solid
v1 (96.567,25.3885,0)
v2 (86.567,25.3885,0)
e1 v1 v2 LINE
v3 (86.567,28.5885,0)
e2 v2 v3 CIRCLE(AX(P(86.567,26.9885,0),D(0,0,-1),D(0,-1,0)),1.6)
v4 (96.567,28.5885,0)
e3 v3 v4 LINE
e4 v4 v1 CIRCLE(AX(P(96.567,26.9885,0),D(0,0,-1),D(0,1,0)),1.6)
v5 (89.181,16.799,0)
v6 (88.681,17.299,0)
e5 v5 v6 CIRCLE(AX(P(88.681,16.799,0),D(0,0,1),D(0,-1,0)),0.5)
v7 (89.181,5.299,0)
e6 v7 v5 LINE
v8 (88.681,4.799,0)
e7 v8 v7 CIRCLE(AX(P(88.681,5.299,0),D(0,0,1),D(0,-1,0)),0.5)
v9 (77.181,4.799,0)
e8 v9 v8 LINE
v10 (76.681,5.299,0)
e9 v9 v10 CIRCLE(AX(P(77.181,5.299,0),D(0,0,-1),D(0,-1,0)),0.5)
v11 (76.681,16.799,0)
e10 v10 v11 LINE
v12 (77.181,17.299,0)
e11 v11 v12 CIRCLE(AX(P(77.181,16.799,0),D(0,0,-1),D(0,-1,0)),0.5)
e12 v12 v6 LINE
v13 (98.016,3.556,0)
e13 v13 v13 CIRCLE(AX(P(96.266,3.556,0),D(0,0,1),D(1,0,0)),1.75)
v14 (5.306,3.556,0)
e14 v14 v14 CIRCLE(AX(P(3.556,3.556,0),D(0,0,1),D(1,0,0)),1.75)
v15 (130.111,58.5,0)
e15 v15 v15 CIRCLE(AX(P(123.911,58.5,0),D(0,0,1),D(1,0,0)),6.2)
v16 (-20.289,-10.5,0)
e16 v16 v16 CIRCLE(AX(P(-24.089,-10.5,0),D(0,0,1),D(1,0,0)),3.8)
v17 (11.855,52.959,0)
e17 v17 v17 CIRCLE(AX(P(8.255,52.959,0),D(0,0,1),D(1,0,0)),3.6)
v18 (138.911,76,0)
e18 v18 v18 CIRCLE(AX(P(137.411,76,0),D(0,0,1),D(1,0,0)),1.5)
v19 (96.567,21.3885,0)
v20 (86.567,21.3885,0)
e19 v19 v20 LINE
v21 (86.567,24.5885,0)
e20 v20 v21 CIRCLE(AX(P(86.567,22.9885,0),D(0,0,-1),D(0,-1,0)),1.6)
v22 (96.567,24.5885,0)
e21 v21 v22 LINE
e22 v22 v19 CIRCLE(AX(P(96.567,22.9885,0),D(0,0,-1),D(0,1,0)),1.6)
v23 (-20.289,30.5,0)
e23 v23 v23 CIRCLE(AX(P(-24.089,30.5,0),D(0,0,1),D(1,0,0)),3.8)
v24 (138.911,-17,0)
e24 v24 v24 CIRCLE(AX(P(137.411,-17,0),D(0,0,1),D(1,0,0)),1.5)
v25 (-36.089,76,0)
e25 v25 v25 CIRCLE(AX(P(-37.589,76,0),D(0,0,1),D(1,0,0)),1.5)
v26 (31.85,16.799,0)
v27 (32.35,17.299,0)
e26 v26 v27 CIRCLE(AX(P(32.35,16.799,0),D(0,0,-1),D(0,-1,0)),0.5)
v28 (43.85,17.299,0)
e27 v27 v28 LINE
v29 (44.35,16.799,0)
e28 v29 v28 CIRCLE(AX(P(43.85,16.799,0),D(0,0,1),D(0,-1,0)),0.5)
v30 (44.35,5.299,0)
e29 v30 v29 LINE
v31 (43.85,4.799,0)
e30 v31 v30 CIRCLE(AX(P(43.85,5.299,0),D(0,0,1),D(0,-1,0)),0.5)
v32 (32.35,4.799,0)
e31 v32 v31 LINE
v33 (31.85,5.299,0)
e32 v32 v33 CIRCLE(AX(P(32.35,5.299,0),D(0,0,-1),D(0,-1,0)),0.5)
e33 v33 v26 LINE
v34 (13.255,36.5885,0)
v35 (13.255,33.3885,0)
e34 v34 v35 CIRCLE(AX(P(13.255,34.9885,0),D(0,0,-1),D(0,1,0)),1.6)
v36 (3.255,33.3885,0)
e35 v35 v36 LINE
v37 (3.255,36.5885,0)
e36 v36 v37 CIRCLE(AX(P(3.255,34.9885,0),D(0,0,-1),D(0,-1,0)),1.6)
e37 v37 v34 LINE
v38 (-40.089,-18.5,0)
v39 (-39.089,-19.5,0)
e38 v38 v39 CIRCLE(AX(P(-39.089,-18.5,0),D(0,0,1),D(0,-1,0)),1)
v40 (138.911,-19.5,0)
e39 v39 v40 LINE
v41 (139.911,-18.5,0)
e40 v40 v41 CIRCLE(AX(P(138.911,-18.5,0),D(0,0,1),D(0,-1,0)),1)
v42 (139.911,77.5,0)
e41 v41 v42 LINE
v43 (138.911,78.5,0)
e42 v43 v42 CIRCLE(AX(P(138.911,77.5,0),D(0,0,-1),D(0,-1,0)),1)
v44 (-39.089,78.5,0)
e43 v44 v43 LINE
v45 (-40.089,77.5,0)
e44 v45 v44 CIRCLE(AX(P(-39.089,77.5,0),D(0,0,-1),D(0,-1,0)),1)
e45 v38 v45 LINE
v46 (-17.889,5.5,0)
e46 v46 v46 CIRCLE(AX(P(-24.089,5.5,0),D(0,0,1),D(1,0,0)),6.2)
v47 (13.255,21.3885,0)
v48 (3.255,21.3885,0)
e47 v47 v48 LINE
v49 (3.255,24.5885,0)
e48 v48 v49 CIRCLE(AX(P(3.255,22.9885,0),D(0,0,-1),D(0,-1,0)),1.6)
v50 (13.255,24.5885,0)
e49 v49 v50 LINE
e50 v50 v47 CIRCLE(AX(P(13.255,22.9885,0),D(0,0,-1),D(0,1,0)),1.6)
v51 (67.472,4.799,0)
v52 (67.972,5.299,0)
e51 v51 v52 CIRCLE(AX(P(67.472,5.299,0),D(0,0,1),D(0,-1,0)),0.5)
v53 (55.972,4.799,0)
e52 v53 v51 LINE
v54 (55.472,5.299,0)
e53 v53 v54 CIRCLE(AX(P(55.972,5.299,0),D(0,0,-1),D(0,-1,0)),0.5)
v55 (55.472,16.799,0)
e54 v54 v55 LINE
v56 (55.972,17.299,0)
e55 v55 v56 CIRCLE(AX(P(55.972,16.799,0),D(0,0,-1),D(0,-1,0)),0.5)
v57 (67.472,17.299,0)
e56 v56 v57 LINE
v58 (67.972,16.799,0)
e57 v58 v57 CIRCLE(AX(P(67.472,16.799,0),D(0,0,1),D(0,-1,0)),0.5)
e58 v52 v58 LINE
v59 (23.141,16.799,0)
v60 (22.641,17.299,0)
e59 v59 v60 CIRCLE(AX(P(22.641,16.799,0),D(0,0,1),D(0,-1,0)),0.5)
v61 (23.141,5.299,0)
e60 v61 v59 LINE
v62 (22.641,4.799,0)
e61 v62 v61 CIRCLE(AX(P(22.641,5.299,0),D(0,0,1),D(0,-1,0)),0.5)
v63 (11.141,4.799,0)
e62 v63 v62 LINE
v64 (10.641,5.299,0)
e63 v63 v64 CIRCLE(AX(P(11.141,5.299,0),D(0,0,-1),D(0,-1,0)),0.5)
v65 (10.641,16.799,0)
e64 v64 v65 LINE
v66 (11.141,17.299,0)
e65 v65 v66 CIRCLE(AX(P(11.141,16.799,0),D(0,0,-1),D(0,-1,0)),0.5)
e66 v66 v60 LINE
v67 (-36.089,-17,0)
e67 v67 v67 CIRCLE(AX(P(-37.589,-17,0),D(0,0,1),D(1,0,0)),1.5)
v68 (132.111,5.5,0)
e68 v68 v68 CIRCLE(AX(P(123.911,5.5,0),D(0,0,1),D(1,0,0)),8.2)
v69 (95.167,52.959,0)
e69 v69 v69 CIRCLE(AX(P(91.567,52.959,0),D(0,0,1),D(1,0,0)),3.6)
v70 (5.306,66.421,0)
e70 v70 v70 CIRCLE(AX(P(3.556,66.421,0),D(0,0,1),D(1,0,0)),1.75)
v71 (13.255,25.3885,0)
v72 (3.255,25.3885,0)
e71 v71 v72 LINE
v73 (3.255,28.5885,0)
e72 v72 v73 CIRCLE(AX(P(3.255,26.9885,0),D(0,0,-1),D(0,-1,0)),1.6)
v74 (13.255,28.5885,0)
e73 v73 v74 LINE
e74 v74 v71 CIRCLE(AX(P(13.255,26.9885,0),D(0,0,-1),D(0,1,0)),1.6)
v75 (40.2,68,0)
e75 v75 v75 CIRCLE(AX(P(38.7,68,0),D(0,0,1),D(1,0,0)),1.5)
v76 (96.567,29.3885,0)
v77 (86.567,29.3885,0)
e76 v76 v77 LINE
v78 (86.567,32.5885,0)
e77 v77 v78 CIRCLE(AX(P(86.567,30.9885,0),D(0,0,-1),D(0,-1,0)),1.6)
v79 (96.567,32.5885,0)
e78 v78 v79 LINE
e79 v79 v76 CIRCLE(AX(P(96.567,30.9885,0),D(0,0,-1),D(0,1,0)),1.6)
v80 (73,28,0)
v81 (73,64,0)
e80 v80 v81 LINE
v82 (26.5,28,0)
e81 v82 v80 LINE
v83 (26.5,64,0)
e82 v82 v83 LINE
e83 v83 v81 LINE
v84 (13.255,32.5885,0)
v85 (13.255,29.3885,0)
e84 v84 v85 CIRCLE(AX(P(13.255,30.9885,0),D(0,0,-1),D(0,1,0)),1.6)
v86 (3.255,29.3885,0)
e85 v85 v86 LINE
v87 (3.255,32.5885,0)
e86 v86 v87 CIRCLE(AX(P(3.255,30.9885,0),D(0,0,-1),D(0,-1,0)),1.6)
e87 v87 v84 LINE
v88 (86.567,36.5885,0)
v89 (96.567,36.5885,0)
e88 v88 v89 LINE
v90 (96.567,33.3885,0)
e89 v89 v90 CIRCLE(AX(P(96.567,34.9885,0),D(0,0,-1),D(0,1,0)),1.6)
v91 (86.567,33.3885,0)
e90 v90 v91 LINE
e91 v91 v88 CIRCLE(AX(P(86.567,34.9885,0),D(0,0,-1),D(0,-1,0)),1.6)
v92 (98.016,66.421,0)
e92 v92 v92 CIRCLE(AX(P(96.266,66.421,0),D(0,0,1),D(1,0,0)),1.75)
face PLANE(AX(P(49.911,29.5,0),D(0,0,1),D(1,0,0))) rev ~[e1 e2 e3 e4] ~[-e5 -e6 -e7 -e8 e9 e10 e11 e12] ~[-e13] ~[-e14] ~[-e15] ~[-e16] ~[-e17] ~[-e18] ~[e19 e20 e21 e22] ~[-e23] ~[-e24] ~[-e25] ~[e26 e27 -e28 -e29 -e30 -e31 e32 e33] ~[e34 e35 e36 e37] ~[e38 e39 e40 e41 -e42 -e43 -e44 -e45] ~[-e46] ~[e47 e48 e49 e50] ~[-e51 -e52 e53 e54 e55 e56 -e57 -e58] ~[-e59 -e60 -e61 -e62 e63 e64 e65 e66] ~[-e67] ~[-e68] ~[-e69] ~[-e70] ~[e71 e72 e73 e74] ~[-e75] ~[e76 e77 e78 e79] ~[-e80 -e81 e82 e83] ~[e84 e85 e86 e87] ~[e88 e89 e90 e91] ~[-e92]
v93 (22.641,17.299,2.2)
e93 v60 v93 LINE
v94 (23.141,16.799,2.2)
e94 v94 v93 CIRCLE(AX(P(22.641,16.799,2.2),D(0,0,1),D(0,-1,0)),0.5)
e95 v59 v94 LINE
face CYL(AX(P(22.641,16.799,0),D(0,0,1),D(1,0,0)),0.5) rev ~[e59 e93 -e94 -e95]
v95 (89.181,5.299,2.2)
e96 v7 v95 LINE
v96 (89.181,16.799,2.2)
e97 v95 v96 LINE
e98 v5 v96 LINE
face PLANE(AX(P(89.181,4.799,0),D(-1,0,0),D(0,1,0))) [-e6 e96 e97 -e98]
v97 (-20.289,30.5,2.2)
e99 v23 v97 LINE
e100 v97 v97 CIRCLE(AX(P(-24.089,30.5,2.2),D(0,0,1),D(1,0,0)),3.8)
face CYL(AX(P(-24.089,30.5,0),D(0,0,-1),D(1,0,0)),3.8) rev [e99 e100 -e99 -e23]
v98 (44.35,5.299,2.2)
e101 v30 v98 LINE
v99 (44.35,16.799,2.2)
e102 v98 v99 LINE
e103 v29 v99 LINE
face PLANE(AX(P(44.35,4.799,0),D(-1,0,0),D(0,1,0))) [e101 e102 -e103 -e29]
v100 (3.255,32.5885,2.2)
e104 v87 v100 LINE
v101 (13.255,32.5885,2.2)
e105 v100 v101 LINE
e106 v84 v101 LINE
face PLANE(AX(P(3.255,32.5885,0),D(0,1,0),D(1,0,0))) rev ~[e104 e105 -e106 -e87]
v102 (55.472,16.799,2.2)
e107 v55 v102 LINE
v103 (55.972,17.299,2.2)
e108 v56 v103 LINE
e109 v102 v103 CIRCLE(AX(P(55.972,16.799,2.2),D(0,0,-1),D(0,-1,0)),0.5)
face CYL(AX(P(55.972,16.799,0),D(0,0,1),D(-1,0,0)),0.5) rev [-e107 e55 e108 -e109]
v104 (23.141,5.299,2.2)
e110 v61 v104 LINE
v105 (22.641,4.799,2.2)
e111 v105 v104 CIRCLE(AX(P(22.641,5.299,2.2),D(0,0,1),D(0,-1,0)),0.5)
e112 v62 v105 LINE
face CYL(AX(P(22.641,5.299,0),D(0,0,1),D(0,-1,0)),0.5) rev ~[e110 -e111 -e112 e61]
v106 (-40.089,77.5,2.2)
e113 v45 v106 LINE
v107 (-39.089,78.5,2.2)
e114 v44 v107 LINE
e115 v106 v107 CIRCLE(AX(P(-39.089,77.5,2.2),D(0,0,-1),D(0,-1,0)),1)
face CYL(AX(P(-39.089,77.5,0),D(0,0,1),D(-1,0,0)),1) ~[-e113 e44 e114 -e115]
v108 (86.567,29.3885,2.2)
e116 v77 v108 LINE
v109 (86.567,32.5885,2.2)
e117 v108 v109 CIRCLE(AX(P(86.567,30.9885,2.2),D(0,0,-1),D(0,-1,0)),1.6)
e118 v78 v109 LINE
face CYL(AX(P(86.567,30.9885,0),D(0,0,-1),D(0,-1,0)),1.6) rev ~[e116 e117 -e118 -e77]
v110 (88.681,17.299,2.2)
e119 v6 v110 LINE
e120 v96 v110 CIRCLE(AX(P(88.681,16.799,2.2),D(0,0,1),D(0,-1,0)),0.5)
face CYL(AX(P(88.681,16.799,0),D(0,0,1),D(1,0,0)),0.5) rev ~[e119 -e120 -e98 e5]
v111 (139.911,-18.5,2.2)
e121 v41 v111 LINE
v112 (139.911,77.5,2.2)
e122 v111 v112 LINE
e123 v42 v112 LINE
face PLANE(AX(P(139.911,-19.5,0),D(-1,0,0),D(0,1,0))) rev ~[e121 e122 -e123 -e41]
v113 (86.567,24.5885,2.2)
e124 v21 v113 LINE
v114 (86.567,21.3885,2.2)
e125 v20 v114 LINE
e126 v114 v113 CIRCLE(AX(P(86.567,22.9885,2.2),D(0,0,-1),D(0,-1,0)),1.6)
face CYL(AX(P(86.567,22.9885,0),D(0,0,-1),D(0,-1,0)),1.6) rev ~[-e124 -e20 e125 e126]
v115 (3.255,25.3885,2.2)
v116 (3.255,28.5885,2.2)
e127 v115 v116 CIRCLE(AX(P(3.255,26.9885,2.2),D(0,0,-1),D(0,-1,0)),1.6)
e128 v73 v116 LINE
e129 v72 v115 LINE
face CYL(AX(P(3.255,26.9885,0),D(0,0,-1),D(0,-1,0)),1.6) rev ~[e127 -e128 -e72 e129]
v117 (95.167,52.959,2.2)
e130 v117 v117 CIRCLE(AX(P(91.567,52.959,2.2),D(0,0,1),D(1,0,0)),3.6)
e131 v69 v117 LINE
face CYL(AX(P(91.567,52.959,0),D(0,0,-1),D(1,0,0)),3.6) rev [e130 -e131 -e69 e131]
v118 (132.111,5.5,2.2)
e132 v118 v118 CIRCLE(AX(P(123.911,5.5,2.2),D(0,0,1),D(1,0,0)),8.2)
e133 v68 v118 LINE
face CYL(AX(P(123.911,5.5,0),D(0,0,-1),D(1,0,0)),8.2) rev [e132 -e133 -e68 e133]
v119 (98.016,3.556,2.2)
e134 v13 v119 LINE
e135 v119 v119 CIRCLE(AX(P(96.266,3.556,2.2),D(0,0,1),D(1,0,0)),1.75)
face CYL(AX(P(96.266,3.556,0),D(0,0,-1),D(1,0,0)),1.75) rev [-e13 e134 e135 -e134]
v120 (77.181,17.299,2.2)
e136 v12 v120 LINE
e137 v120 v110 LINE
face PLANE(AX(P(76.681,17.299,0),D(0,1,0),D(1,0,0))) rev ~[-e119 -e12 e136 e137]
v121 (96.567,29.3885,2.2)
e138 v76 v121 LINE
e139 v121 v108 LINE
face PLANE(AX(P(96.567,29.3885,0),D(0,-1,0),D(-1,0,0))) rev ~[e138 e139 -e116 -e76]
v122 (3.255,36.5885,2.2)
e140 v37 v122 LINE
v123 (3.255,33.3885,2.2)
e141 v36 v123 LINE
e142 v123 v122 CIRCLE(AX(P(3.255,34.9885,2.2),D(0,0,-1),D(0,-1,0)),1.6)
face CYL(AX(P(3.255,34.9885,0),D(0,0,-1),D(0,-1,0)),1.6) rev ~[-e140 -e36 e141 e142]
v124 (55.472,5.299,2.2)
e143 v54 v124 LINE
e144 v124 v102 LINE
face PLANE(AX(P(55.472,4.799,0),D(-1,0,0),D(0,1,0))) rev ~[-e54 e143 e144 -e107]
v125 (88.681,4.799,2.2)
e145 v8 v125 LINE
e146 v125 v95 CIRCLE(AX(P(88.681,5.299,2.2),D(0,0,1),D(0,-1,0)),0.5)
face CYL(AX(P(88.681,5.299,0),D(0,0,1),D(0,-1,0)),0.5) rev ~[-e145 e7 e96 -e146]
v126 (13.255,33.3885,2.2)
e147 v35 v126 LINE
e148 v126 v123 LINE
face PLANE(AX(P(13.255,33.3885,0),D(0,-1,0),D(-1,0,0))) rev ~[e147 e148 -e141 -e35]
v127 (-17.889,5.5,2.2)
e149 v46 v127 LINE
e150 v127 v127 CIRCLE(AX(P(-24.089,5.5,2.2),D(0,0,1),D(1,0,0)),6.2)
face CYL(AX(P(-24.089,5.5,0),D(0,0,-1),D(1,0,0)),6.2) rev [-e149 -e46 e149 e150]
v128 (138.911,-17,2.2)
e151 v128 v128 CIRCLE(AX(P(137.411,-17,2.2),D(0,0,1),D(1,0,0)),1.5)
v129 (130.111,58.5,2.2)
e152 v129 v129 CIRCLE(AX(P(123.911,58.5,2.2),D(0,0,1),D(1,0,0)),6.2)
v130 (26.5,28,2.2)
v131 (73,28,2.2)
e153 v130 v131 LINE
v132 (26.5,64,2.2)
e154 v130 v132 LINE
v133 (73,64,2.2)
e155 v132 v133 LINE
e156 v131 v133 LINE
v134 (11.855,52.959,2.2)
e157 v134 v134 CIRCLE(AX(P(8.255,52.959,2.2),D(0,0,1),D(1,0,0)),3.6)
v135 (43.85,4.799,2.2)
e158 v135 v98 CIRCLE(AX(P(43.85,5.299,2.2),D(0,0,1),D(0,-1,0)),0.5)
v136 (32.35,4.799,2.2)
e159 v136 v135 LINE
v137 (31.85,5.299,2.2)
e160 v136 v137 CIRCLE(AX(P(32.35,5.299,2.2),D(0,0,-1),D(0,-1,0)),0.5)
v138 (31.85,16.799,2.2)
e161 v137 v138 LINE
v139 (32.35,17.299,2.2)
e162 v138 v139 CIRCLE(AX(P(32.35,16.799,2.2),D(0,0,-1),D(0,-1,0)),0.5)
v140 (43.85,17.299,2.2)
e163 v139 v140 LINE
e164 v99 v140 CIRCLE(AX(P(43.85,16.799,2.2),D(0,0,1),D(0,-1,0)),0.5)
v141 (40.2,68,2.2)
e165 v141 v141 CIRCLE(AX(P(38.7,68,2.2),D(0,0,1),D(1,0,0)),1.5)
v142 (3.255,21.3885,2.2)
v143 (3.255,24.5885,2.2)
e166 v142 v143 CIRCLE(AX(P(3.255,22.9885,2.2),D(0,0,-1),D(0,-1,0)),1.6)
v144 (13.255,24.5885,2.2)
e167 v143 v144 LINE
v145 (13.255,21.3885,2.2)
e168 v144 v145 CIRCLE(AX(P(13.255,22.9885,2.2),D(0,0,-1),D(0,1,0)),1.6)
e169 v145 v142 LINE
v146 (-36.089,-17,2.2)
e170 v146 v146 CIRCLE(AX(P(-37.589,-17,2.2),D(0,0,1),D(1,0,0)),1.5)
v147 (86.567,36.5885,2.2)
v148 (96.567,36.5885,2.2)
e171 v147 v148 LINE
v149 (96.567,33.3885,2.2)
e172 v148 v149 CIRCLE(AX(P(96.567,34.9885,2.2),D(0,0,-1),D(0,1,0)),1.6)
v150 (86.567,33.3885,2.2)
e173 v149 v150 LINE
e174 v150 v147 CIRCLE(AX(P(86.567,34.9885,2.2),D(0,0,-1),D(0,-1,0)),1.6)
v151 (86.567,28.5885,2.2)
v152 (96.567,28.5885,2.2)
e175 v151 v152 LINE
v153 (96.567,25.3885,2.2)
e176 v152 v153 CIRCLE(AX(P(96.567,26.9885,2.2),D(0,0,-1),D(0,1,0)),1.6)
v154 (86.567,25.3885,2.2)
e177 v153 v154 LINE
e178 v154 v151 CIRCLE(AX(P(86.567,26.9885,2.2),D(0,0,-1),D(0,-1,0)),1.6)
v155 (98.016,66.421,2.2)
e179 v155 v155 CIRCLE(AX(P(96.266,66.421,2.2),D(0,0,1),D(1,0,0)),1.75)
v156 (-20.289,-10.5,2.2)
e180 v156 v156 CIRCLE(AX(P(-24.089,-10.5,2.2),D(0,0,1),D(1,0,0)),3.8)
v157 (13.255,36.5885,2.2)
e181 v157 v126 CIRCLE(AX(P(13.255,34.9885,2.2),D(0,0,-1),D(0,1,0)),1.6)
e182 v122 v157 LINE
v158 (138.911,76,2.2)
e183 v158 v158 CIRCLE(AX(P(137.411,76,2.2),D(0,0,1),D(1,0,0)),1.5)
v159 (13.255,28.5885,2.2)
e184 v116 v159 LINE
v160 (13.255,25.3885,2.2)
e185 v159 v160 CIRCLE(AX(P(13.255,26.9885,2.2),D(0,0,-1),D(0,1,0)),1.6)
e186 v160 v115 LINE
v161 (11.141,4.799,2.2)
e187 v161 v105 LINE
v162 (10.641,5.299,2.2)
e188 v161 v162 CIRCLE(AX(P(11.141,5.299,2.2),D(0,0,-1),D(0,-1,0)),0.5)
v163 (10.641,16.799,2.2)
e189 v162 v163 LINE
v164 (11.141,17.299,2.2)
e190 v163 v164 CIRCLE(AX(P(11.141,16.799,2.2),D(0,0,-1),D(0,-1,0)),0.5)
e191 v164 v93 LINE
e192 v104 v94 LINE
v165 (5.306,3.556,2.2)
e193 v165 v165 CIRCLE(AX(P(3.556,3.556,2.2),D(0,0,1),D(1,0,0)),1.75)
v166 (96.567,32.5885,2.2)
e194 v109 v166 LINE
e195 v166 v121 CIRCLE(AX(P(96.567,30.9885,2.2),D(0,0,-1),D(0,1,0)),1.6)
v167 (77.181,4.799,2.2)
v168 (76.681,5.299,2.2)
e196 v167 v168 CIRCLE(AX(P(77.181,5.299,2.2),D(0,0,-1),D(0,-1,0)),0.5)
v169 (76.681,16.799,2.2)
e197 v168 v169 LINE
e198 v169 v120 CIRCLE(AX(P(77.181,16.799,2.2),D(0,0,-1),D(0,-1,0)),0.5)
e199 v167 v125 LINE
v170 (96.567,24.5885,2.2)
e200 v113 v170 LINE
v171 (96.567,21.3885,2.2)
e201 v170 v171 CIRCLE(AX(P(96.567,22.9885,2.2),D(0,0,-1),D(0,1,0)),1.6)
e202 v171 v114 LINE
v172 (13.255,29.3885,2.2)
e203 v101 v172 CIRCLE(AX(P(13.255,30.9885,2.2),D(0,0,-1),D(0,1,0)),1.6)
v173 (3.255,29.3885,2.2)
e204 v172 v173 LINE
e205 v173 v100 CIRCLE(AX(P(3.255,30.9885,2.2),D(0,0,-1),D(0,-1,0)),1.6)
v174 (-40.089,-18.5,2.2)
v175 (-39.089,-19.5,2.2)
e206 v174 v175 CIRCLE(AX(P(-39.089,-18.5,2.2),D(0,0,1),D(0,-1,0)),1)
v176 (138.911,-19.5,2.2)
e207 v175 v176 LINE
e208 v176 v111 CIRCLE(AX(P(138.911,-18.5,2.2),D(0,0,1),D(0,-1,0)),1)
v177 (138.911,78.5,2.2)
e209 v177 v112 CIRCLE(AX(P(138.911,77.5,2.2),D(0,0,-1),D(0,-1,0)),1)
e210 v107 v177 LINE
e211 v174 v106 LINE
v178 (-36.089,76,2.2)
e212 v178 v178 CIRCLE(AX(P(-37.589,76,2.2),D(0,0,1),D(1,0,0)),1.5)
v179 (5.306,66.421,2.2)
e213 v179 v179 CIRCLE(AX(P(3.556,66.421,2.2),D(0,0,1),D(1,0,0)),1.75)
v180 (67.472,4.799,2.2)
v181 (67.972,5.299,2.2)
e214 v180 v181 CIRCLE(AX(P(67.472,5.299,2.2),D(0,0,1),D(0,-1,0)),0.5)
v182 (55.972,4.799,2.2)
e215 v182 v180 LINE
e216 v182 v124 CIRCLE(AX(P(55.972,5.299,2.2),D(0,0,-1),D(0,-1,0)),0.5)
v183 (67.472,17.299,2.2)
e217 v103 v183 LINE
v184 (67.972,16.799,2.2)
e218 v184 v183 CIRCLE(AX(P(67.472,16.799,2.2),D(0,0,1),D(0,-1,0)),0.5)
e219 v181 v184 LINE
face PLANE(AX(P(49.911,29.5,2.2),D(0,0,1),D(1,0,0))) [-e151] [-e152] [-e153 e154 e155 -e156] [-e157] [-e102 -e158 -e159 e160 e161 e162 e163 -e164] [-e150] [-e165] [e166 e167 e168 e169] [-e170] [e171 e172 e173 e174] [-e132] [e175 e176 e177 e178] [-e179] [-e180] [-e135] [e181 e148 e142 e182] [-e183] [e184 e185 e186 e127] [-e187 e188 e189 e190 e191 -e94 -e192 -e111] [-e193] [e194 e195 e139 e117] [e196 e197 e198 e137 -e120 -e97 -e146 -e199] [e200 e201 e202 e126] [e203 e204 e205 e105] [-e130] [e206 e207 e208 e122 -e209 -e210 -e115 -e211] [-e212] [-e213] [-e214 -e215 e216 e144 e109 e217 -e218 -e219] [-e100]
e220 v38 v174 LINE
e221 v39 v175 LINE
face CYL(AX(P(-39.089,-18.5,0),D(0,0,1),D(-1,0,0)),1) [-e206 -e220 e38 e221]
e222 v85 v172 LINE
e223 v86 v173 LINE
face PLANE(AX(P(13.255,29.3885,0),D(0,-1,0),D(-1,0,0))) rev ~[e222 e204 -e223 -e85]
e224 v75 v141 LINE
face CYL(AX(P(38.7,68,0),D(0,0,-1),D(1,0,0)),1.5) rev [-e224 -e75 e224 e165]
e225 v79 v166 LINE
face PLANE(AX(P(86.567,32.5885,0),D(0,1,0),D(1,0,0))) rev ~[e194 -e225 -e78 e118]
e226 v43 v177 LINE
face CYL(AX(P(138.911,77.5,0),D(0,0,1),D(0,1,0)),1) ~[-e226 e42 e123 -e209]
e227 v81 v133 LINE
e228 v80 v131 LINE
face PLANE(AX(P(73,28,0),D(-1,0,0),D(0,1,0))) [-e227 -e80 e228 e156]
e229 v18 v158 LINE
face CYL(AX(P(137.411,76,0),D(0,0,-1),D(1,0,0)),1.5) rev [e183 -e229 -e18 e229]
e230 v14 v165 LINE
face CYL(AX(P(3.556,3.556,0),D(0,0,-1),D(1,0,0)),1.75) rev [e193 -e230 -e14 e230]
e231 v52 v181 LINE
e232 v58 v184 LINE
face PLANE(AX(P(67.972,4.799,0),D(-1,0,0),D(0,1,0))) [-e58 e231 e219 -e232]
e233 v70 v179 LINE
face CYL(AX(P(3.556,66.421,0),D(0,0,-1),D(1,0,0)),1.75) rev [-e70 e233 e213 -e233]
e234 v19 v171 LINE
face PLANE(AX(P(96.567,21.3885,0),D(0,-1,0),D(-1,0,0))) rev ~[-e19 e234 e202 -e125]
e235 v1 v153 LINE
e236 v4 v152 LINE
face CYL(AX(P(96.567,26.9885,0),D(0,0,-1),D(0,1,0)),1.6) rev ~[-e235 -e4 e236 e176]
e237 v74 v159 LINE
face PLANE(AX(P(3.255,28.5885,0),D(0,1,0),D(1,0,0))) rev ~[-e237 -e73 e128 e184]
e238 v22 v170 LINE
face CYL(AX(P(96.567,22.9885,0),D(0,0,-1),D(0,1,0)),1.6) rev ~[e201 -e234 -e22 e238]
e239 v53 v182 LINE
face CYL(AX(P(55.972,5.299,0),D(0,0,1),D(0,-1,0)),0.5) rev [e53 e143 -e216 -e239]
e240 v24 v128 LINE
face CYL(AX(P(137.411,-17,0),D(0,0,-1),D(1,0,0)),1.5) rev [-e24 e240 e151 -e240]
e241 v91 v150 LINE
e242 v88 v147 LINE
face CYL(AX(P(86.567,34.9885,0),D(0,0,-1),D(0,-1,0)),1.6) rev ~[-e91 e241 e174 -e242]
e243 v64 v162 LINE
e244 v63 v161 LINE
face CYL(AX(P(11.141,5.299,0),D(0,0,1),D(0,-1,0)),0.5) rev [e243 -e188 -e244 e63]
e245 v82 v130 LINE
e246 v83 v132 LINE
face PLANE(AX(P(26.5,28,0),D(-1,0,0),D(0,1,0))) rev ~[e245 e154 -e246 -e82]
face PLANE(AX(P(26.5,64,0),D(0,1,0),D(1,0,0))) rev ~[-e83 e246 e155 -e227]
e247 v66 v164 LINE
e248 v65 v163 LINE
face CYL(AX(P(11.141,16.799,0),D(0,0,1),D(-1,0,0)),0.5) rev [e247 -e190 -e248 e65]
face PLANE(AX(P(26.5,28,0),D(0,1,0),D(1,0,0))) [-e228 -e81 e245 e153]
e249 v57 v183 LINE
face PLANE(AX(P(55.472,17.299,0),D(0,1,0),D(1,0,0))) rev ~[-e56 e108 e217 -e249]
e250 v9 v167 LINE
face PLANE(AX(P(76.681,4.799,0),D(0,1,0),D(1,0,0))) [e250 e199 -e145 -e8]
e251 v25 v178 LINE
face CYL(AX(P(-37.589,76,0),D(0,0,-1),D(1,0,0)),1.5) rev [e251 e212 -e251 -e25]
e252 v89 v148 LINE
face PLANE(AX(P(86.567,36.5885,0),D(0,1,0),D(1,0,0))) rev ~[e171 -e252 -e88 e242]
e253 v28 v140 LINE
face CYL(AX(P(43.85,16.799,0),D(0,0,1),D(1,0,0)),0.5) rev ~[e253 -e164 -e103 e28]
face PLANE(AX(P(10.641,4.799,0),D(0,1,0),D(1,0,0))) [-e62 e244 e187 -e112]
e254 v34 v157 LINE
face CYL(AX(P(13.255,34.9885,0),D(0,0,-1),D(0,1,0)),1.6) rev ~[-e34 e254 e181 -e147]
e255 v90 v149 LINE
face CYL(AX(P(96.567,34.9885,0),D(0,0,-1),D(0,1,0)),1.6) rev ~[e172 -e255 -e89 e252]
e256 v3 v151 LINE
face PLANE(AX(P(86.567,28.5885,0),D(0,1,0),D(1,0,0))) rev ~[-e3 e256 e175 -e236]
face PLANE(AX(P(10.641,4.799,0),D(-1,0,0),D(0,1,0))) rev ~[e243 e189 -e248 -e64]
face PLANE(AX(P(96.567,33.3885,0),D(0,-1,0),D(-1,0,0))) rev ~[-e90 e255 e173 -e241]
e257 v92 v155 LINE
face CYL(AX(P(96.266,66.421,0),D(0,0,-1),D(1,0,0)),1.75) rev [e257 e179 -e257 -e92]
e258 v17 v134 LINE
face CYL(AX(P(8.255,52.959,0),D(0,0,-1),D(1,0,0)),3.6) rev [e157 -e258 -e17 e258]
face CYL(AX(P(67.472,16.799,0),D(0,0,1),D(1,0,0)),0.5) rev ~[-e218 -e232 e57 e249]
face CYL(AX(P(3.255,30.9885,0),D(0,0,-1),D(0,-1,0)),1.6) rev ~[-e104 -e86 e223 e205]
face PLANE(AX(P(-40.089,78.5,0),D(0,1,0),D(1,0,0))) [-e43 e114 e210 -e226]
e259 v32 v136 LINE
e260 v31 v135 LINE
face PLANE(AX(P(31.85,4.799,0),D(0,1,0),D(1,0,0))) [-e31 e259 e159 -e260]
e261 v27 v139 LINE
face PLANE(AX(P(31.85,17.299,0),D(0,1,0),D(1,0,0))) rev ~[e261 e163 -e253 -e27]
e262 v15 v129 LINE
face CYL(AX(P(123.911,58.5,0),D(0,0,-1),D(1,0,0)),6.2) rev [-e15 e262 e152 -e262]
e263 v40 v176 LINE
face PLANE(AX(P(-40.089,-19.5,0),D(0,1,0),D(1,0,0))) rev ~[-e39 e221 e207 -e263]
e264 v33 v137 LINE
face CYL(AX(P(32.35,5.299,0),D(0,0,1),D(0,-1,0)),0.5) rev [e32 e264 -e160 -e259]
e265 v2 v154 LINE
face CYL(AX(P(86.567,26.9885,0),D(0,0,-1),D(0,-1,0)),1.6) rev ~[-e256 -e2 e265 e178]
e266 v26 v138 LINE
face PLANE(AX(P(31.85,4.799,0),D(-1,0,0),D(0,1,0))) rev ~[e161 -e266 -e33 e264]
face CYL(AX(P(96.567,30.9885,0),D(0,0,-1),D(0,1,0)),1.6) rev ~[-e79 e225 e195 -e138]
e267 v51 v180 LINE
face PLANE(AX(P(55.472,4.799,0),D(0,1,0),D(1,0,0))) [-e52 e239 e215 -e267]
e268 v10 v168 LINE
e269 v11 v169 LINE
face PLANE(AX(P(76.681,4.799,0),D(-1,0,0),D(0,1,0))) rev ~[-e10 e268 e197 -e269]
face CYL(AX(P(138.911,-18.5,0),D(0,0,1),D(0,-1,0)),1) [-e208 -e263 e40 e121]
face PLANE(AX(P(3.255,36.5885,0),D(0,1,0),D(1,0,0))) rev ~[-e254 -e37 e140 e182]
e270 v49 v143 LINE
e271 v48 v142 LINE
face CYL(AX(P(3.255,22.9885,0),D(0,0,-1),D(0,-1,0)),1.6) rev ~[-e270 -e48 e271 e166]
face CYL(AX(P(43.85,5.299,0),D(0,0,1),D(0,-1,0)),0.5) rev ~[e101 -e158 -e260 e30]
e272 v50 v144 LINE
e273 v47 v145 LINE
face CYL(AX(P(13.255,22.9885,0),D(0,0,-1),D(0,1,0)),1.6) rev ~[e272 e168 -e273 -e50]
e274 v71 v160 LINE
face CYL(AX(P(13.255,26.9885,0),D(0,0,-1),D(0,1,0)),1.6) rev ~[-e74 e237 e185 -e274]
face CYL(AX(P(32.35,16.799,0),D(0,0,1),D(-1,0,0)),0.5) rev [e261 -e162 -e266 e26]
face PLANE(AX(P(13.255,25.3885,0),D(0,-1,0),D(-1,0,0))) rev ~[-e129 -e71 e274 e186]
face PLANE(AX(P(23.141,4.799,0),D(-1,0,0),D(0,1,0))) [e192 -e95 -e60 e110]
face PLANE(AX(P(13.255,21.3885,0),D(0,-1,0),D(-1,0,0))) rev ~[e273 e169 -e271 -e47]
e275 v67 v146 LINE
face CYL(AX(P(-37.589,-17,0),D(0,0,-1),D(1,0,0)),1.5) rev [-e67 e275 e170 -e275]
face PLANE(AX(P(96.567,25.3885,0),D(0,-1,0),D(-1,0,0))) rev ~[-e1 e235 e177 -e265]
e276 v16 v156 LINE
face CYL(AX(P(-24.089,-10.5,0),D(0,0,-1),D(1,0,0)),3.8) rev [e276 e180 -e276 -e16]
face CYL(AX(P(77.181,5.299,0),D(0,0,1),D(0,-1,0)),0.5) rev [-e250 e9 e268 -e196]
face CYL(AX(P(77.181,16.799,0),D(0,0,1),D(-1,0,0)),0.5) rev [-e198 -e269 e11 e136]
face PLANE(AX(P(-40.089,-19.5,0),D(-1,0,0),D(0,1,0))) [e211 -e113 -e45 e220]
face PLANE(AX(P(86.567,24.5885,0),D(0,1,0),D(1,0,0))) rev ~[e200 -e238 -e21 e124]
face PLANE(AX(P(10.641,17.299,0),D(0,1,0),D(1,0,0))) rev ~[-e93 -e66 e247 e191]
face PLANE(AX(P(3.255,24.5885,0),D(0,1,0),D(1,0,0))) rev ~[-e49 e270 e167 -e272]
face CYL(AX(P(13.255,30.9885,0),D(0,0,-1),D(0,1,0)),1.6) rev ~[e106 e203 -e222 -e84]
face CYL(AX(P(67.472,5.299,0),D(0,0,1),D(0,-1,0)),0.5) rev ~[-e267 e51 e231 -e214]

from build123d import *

# Parameters (mm, degrees)
SKETCH_1_W      = 180
SKETCH_1_H      = 98
SKETCH_1_R      = 6.2
SKETCH_1_R_2    = 8.2
SKETCH_1_R_3    = 1.5
SKETCH_1_R_4    = 1.75
SKETCH_1_R_5    = 3.6
SKETCH_1_R_6    = 3.8
SKETCH_1_W_2    = 12.5
SKETCH_1_H_2    = 12.5
SKETCH_1_W_3    = 46.5
SKETCH_1_H_3    = 36
EXTRUDE_1_DEPTH = 2.2
FILLET_1_R      = 1
FILLET_2_R      = 0.5


with BuildPart() as part:
    # Эскиз1 → Бобышка-Вытянуть1 (new body)
    with BuildSketch(Plane.XY):
        with Locations((49.911, 29.5)):
            Rectangle(SKETCH_1_W, SKETCH_1_H)
        with Locations((-24.089, 5.5)):
            Circle(SKETCH_1_R, mode=Mode.SUBTRACT)
        with Locations((123.911, 58.5)):
            Circle(SKETCH_1_R, mode=Mode.SUBTRACT)
        with Locations((123.911, 5.5)):
            Circle(SKETCH_1_R_2, mode=Mode.SUBTRACT)
        with Locations((-37.589, 76)):
            Circle(SKETCH_1_R_3, mode=Mode.SUBTRACT)
        with Locations((137.411, 76)):
            Circle(SKETCH_1_R_3, mode=Mode.SUBTRACT)
        with Locations((137.411, -17)):
            Circle(SKETCH_1_R_3, mode=Mode.SUBTRACT)
        with Locations((-37.589, -17)):
            Circle(SKETCH_1_R_3, mode=Mode.SUBTRACT)
        with Locations((3.556, 3.556)):
            Circle(SKETCH_1_R_4, mode=Mode.SUBTRACT)
        with Locations((3.556, 66.421)):
            Circle(SKETCH_1_R_4, mode=Mode.SUBTRACT)
        with Locations((96.266, 66.421)):
            Circle(SKETCH_1_R_4, mode=Mode.SUBTRACT)
        with Locations((96.266, 3.556)):
            Circle(SKETCH_1_R_4, mode=Mode.SUBTRACT)
        with Locations((8.255, 52.959)):
            Circle(SKETCH_1_R_5, mode=Mode.SUBTRACT)
        with Locations((91.567, 52.959)):
            Circle(SKETCH_1_R_5, mode=Mode.SUBTRACT)
        with Locations((-24.089, 30.5)):
            Circle(SKETCH_1_R_6, mode=Mode.SUBTRACT)
        with Locations((-24.089, -10.5)):
            Circle(SKETCH_1_R_6, mode=Mode.SUBTRACT)
        with Locations((38.7, 68)):
            Circle(SKETCH_1_R_3, mode=Mode.SUBTRACT)
        with Locations((16.891, 11.049)):
            Rectangle(SKETCH_1_W_2, SKETCH_1_H_2, mode=Mode.SUBTRACT)
        with Locations((38.1, 11.049)):
            Rectangle(SKETCH_1_W_2, SKETCH_1_H_2, mode=Mode.SUBTRACT)
        with Locations((61.722, 11.049)):
            Rectangle(SKETCH_1_W_2, SKETCH_1_H_2, mode=Mode.SUBTRACT)
        with Locations((82.931, 11.049)):
            Rectangle(SKETCH_1_W_2, SKETCH_1_H_2, mode=Mode.SUBTRACT)
        with Locations((49.75, 46)):
            Rectangle(SKETCH_1_W_3, SKETCH_1_H_3, mode=Mode.SUBTRACT)
        with BuildLine():
            Line((3.255, 36.5885), (13.255, 36.5885))
            ThreePointArc((13.255, 36.5885), (14.855, 34.9885), (13.255, 33.3885))
            Line((13.255, 33.3885), (3.255, 33.3885))
            ThreePointArc((3.255, 33.3885), (1.655, 34.9885), (3.255, 36.5885))
        make_face(mode=Mode.SUBTRACT)
        with BuildLine():
            Line((96.567, 33.3885), (86.567, 33.3885))
            ThreePointArc((86.567, 33.3885), (84.967, 34.9885), (86.567, 36.5885))
            Line((86.567, 36.5885), (96.567, 36.5885))
            ThreePointArc((96.567, 36.5885), (98.167, 34.9885), (96.567, 33.3885))
        make_face(mode=Mode.SUBTRACT)
        with BuildLine():
            Line((3.255, 32.5885), (13.255, 32.5885))
            ThreePointArc((13.255, 32.5885), (14.855, 30.9885), (13.255, 29.3885))
            Line((13.255, 29.3885), (3.255, 29.3885))
            ThreePointArc((3.255, 29.3885), (1.655, 30.9885), (3.255, 32.5885))
        make_face(mode=Mode.SUBTRACT)
        with BuildLine():
            Line((96.567, 29.3885), (86.567, 29.3885))
            ThreePointArc((86.567, 29.3885), (84.967, 30.9885), (86.567, 32.5885))
            Line((86.567, 32.5885), (96.567, 32.5885))
            ThreePointArc((96.567, 32.5885), (98.167, 30.9885), (96.567, 29.3885))
        make_face(mode=Mode.SUBTRACT)
        with BuildLine():
            Line((3.255, 28.5885), (13.255, 28.5885))
            ThreePointArc((13.255, 28.5885), (14.855, 26.9885), (13.255, 25.3885))
            Line((13.255, 25.3885), (3.255, 25.3885))
            ThreePointArc((3.255, 25.3885), (1.655, 26.9885), (3.255, 28.5885))
        make_face(mode=Mode.SUBTRACT)
        with BuildLine():
            Line((96.567, 25.3885), (86.567, 25.3885))
            ThreePointArc((86.567, 25.3885), (84.967, 26.9885), (86.567, 28.5885))
            Line((86.567, 28.5885), (96.567, 28.5885))
            ThreePointArc((96.567, 28.5885), (98.167, 26.9885), (96.567, 25.3885))
        make_face(mode=Mode.SUBTRACT)
        with BuildLine():
            Line((3.255, 24.5885), (13.255, 24.5885))
            ThreePointArc((13.255, 24.5885), (14.855, 22.9885), (13.255, 21.3885))
            Line((13.255, 21.3885), (3.255, 21.3885))
            ThreePointArc((3.255, 21.3885), (1.655, 22.9885), (3.255, 24.5885))
        make_face(mode=Mode.SUBTRACT)
        with BuildLine():
            Line((96.567, 21.3885), (86.567, 21.3885))
            ThreePointArc((86.567, 21.3885), (84.967, 22.9885), (86.567, 24.5885))
            Line((86.567, 24.5885), (96.567, 24.5885))
            ThreePointArc((96.567, 24.5885), (98.167, 22.9885), (96.567, 21.3885))
        make_face(mode=Mode.SUBTRACT)
    extrude(amount=EXTRUDE_1_DEPTH)

    # Скругление1
    fillet_1_edges = [part.edges().sort_by_distance(p)[0] for p in [
        (139.911, -19.5, 1.1),
        (-40.089, -19.5, 1.1),
        (-40.089, 78.5, 1.1),
        (139.911, 78.5, 1.1),
    ]]
    fillet(fillet_1_edges, radius=FILLET_1_R)

    # Скругление2
    fillet_2_edges = [part.edges().sort_by_distance(p)[0] for p in [
        (89.181, 4.799, 1.1),
        (89.181, 17.299, 1.1),
        (76.681, 17.299, 1.1),
        (76.681, 4.799, 1.1),
        (23.141, 4.799, 1.1),
        (23.141, 17.299, 1.1),
        (10.641, 17.299, 1.1),
        (10.641, 4.799, 1.1),
        (44.35, 4.799, 1.1),
        (44.35, 17.299, 1.1),
        (31.85, 17.299, 1.1),
        (31.85, 4.799, 1.1),
        (67.972, 4.799, 1.1),
        (67.972, 17.299, 1.1),
        (55.472, 17.299, 1.1),
        (55.472, 4.799, 1.1),
    ]]
    fillet(fillet_2_edges, radius=FILLET_2_R)


solid = part.part
